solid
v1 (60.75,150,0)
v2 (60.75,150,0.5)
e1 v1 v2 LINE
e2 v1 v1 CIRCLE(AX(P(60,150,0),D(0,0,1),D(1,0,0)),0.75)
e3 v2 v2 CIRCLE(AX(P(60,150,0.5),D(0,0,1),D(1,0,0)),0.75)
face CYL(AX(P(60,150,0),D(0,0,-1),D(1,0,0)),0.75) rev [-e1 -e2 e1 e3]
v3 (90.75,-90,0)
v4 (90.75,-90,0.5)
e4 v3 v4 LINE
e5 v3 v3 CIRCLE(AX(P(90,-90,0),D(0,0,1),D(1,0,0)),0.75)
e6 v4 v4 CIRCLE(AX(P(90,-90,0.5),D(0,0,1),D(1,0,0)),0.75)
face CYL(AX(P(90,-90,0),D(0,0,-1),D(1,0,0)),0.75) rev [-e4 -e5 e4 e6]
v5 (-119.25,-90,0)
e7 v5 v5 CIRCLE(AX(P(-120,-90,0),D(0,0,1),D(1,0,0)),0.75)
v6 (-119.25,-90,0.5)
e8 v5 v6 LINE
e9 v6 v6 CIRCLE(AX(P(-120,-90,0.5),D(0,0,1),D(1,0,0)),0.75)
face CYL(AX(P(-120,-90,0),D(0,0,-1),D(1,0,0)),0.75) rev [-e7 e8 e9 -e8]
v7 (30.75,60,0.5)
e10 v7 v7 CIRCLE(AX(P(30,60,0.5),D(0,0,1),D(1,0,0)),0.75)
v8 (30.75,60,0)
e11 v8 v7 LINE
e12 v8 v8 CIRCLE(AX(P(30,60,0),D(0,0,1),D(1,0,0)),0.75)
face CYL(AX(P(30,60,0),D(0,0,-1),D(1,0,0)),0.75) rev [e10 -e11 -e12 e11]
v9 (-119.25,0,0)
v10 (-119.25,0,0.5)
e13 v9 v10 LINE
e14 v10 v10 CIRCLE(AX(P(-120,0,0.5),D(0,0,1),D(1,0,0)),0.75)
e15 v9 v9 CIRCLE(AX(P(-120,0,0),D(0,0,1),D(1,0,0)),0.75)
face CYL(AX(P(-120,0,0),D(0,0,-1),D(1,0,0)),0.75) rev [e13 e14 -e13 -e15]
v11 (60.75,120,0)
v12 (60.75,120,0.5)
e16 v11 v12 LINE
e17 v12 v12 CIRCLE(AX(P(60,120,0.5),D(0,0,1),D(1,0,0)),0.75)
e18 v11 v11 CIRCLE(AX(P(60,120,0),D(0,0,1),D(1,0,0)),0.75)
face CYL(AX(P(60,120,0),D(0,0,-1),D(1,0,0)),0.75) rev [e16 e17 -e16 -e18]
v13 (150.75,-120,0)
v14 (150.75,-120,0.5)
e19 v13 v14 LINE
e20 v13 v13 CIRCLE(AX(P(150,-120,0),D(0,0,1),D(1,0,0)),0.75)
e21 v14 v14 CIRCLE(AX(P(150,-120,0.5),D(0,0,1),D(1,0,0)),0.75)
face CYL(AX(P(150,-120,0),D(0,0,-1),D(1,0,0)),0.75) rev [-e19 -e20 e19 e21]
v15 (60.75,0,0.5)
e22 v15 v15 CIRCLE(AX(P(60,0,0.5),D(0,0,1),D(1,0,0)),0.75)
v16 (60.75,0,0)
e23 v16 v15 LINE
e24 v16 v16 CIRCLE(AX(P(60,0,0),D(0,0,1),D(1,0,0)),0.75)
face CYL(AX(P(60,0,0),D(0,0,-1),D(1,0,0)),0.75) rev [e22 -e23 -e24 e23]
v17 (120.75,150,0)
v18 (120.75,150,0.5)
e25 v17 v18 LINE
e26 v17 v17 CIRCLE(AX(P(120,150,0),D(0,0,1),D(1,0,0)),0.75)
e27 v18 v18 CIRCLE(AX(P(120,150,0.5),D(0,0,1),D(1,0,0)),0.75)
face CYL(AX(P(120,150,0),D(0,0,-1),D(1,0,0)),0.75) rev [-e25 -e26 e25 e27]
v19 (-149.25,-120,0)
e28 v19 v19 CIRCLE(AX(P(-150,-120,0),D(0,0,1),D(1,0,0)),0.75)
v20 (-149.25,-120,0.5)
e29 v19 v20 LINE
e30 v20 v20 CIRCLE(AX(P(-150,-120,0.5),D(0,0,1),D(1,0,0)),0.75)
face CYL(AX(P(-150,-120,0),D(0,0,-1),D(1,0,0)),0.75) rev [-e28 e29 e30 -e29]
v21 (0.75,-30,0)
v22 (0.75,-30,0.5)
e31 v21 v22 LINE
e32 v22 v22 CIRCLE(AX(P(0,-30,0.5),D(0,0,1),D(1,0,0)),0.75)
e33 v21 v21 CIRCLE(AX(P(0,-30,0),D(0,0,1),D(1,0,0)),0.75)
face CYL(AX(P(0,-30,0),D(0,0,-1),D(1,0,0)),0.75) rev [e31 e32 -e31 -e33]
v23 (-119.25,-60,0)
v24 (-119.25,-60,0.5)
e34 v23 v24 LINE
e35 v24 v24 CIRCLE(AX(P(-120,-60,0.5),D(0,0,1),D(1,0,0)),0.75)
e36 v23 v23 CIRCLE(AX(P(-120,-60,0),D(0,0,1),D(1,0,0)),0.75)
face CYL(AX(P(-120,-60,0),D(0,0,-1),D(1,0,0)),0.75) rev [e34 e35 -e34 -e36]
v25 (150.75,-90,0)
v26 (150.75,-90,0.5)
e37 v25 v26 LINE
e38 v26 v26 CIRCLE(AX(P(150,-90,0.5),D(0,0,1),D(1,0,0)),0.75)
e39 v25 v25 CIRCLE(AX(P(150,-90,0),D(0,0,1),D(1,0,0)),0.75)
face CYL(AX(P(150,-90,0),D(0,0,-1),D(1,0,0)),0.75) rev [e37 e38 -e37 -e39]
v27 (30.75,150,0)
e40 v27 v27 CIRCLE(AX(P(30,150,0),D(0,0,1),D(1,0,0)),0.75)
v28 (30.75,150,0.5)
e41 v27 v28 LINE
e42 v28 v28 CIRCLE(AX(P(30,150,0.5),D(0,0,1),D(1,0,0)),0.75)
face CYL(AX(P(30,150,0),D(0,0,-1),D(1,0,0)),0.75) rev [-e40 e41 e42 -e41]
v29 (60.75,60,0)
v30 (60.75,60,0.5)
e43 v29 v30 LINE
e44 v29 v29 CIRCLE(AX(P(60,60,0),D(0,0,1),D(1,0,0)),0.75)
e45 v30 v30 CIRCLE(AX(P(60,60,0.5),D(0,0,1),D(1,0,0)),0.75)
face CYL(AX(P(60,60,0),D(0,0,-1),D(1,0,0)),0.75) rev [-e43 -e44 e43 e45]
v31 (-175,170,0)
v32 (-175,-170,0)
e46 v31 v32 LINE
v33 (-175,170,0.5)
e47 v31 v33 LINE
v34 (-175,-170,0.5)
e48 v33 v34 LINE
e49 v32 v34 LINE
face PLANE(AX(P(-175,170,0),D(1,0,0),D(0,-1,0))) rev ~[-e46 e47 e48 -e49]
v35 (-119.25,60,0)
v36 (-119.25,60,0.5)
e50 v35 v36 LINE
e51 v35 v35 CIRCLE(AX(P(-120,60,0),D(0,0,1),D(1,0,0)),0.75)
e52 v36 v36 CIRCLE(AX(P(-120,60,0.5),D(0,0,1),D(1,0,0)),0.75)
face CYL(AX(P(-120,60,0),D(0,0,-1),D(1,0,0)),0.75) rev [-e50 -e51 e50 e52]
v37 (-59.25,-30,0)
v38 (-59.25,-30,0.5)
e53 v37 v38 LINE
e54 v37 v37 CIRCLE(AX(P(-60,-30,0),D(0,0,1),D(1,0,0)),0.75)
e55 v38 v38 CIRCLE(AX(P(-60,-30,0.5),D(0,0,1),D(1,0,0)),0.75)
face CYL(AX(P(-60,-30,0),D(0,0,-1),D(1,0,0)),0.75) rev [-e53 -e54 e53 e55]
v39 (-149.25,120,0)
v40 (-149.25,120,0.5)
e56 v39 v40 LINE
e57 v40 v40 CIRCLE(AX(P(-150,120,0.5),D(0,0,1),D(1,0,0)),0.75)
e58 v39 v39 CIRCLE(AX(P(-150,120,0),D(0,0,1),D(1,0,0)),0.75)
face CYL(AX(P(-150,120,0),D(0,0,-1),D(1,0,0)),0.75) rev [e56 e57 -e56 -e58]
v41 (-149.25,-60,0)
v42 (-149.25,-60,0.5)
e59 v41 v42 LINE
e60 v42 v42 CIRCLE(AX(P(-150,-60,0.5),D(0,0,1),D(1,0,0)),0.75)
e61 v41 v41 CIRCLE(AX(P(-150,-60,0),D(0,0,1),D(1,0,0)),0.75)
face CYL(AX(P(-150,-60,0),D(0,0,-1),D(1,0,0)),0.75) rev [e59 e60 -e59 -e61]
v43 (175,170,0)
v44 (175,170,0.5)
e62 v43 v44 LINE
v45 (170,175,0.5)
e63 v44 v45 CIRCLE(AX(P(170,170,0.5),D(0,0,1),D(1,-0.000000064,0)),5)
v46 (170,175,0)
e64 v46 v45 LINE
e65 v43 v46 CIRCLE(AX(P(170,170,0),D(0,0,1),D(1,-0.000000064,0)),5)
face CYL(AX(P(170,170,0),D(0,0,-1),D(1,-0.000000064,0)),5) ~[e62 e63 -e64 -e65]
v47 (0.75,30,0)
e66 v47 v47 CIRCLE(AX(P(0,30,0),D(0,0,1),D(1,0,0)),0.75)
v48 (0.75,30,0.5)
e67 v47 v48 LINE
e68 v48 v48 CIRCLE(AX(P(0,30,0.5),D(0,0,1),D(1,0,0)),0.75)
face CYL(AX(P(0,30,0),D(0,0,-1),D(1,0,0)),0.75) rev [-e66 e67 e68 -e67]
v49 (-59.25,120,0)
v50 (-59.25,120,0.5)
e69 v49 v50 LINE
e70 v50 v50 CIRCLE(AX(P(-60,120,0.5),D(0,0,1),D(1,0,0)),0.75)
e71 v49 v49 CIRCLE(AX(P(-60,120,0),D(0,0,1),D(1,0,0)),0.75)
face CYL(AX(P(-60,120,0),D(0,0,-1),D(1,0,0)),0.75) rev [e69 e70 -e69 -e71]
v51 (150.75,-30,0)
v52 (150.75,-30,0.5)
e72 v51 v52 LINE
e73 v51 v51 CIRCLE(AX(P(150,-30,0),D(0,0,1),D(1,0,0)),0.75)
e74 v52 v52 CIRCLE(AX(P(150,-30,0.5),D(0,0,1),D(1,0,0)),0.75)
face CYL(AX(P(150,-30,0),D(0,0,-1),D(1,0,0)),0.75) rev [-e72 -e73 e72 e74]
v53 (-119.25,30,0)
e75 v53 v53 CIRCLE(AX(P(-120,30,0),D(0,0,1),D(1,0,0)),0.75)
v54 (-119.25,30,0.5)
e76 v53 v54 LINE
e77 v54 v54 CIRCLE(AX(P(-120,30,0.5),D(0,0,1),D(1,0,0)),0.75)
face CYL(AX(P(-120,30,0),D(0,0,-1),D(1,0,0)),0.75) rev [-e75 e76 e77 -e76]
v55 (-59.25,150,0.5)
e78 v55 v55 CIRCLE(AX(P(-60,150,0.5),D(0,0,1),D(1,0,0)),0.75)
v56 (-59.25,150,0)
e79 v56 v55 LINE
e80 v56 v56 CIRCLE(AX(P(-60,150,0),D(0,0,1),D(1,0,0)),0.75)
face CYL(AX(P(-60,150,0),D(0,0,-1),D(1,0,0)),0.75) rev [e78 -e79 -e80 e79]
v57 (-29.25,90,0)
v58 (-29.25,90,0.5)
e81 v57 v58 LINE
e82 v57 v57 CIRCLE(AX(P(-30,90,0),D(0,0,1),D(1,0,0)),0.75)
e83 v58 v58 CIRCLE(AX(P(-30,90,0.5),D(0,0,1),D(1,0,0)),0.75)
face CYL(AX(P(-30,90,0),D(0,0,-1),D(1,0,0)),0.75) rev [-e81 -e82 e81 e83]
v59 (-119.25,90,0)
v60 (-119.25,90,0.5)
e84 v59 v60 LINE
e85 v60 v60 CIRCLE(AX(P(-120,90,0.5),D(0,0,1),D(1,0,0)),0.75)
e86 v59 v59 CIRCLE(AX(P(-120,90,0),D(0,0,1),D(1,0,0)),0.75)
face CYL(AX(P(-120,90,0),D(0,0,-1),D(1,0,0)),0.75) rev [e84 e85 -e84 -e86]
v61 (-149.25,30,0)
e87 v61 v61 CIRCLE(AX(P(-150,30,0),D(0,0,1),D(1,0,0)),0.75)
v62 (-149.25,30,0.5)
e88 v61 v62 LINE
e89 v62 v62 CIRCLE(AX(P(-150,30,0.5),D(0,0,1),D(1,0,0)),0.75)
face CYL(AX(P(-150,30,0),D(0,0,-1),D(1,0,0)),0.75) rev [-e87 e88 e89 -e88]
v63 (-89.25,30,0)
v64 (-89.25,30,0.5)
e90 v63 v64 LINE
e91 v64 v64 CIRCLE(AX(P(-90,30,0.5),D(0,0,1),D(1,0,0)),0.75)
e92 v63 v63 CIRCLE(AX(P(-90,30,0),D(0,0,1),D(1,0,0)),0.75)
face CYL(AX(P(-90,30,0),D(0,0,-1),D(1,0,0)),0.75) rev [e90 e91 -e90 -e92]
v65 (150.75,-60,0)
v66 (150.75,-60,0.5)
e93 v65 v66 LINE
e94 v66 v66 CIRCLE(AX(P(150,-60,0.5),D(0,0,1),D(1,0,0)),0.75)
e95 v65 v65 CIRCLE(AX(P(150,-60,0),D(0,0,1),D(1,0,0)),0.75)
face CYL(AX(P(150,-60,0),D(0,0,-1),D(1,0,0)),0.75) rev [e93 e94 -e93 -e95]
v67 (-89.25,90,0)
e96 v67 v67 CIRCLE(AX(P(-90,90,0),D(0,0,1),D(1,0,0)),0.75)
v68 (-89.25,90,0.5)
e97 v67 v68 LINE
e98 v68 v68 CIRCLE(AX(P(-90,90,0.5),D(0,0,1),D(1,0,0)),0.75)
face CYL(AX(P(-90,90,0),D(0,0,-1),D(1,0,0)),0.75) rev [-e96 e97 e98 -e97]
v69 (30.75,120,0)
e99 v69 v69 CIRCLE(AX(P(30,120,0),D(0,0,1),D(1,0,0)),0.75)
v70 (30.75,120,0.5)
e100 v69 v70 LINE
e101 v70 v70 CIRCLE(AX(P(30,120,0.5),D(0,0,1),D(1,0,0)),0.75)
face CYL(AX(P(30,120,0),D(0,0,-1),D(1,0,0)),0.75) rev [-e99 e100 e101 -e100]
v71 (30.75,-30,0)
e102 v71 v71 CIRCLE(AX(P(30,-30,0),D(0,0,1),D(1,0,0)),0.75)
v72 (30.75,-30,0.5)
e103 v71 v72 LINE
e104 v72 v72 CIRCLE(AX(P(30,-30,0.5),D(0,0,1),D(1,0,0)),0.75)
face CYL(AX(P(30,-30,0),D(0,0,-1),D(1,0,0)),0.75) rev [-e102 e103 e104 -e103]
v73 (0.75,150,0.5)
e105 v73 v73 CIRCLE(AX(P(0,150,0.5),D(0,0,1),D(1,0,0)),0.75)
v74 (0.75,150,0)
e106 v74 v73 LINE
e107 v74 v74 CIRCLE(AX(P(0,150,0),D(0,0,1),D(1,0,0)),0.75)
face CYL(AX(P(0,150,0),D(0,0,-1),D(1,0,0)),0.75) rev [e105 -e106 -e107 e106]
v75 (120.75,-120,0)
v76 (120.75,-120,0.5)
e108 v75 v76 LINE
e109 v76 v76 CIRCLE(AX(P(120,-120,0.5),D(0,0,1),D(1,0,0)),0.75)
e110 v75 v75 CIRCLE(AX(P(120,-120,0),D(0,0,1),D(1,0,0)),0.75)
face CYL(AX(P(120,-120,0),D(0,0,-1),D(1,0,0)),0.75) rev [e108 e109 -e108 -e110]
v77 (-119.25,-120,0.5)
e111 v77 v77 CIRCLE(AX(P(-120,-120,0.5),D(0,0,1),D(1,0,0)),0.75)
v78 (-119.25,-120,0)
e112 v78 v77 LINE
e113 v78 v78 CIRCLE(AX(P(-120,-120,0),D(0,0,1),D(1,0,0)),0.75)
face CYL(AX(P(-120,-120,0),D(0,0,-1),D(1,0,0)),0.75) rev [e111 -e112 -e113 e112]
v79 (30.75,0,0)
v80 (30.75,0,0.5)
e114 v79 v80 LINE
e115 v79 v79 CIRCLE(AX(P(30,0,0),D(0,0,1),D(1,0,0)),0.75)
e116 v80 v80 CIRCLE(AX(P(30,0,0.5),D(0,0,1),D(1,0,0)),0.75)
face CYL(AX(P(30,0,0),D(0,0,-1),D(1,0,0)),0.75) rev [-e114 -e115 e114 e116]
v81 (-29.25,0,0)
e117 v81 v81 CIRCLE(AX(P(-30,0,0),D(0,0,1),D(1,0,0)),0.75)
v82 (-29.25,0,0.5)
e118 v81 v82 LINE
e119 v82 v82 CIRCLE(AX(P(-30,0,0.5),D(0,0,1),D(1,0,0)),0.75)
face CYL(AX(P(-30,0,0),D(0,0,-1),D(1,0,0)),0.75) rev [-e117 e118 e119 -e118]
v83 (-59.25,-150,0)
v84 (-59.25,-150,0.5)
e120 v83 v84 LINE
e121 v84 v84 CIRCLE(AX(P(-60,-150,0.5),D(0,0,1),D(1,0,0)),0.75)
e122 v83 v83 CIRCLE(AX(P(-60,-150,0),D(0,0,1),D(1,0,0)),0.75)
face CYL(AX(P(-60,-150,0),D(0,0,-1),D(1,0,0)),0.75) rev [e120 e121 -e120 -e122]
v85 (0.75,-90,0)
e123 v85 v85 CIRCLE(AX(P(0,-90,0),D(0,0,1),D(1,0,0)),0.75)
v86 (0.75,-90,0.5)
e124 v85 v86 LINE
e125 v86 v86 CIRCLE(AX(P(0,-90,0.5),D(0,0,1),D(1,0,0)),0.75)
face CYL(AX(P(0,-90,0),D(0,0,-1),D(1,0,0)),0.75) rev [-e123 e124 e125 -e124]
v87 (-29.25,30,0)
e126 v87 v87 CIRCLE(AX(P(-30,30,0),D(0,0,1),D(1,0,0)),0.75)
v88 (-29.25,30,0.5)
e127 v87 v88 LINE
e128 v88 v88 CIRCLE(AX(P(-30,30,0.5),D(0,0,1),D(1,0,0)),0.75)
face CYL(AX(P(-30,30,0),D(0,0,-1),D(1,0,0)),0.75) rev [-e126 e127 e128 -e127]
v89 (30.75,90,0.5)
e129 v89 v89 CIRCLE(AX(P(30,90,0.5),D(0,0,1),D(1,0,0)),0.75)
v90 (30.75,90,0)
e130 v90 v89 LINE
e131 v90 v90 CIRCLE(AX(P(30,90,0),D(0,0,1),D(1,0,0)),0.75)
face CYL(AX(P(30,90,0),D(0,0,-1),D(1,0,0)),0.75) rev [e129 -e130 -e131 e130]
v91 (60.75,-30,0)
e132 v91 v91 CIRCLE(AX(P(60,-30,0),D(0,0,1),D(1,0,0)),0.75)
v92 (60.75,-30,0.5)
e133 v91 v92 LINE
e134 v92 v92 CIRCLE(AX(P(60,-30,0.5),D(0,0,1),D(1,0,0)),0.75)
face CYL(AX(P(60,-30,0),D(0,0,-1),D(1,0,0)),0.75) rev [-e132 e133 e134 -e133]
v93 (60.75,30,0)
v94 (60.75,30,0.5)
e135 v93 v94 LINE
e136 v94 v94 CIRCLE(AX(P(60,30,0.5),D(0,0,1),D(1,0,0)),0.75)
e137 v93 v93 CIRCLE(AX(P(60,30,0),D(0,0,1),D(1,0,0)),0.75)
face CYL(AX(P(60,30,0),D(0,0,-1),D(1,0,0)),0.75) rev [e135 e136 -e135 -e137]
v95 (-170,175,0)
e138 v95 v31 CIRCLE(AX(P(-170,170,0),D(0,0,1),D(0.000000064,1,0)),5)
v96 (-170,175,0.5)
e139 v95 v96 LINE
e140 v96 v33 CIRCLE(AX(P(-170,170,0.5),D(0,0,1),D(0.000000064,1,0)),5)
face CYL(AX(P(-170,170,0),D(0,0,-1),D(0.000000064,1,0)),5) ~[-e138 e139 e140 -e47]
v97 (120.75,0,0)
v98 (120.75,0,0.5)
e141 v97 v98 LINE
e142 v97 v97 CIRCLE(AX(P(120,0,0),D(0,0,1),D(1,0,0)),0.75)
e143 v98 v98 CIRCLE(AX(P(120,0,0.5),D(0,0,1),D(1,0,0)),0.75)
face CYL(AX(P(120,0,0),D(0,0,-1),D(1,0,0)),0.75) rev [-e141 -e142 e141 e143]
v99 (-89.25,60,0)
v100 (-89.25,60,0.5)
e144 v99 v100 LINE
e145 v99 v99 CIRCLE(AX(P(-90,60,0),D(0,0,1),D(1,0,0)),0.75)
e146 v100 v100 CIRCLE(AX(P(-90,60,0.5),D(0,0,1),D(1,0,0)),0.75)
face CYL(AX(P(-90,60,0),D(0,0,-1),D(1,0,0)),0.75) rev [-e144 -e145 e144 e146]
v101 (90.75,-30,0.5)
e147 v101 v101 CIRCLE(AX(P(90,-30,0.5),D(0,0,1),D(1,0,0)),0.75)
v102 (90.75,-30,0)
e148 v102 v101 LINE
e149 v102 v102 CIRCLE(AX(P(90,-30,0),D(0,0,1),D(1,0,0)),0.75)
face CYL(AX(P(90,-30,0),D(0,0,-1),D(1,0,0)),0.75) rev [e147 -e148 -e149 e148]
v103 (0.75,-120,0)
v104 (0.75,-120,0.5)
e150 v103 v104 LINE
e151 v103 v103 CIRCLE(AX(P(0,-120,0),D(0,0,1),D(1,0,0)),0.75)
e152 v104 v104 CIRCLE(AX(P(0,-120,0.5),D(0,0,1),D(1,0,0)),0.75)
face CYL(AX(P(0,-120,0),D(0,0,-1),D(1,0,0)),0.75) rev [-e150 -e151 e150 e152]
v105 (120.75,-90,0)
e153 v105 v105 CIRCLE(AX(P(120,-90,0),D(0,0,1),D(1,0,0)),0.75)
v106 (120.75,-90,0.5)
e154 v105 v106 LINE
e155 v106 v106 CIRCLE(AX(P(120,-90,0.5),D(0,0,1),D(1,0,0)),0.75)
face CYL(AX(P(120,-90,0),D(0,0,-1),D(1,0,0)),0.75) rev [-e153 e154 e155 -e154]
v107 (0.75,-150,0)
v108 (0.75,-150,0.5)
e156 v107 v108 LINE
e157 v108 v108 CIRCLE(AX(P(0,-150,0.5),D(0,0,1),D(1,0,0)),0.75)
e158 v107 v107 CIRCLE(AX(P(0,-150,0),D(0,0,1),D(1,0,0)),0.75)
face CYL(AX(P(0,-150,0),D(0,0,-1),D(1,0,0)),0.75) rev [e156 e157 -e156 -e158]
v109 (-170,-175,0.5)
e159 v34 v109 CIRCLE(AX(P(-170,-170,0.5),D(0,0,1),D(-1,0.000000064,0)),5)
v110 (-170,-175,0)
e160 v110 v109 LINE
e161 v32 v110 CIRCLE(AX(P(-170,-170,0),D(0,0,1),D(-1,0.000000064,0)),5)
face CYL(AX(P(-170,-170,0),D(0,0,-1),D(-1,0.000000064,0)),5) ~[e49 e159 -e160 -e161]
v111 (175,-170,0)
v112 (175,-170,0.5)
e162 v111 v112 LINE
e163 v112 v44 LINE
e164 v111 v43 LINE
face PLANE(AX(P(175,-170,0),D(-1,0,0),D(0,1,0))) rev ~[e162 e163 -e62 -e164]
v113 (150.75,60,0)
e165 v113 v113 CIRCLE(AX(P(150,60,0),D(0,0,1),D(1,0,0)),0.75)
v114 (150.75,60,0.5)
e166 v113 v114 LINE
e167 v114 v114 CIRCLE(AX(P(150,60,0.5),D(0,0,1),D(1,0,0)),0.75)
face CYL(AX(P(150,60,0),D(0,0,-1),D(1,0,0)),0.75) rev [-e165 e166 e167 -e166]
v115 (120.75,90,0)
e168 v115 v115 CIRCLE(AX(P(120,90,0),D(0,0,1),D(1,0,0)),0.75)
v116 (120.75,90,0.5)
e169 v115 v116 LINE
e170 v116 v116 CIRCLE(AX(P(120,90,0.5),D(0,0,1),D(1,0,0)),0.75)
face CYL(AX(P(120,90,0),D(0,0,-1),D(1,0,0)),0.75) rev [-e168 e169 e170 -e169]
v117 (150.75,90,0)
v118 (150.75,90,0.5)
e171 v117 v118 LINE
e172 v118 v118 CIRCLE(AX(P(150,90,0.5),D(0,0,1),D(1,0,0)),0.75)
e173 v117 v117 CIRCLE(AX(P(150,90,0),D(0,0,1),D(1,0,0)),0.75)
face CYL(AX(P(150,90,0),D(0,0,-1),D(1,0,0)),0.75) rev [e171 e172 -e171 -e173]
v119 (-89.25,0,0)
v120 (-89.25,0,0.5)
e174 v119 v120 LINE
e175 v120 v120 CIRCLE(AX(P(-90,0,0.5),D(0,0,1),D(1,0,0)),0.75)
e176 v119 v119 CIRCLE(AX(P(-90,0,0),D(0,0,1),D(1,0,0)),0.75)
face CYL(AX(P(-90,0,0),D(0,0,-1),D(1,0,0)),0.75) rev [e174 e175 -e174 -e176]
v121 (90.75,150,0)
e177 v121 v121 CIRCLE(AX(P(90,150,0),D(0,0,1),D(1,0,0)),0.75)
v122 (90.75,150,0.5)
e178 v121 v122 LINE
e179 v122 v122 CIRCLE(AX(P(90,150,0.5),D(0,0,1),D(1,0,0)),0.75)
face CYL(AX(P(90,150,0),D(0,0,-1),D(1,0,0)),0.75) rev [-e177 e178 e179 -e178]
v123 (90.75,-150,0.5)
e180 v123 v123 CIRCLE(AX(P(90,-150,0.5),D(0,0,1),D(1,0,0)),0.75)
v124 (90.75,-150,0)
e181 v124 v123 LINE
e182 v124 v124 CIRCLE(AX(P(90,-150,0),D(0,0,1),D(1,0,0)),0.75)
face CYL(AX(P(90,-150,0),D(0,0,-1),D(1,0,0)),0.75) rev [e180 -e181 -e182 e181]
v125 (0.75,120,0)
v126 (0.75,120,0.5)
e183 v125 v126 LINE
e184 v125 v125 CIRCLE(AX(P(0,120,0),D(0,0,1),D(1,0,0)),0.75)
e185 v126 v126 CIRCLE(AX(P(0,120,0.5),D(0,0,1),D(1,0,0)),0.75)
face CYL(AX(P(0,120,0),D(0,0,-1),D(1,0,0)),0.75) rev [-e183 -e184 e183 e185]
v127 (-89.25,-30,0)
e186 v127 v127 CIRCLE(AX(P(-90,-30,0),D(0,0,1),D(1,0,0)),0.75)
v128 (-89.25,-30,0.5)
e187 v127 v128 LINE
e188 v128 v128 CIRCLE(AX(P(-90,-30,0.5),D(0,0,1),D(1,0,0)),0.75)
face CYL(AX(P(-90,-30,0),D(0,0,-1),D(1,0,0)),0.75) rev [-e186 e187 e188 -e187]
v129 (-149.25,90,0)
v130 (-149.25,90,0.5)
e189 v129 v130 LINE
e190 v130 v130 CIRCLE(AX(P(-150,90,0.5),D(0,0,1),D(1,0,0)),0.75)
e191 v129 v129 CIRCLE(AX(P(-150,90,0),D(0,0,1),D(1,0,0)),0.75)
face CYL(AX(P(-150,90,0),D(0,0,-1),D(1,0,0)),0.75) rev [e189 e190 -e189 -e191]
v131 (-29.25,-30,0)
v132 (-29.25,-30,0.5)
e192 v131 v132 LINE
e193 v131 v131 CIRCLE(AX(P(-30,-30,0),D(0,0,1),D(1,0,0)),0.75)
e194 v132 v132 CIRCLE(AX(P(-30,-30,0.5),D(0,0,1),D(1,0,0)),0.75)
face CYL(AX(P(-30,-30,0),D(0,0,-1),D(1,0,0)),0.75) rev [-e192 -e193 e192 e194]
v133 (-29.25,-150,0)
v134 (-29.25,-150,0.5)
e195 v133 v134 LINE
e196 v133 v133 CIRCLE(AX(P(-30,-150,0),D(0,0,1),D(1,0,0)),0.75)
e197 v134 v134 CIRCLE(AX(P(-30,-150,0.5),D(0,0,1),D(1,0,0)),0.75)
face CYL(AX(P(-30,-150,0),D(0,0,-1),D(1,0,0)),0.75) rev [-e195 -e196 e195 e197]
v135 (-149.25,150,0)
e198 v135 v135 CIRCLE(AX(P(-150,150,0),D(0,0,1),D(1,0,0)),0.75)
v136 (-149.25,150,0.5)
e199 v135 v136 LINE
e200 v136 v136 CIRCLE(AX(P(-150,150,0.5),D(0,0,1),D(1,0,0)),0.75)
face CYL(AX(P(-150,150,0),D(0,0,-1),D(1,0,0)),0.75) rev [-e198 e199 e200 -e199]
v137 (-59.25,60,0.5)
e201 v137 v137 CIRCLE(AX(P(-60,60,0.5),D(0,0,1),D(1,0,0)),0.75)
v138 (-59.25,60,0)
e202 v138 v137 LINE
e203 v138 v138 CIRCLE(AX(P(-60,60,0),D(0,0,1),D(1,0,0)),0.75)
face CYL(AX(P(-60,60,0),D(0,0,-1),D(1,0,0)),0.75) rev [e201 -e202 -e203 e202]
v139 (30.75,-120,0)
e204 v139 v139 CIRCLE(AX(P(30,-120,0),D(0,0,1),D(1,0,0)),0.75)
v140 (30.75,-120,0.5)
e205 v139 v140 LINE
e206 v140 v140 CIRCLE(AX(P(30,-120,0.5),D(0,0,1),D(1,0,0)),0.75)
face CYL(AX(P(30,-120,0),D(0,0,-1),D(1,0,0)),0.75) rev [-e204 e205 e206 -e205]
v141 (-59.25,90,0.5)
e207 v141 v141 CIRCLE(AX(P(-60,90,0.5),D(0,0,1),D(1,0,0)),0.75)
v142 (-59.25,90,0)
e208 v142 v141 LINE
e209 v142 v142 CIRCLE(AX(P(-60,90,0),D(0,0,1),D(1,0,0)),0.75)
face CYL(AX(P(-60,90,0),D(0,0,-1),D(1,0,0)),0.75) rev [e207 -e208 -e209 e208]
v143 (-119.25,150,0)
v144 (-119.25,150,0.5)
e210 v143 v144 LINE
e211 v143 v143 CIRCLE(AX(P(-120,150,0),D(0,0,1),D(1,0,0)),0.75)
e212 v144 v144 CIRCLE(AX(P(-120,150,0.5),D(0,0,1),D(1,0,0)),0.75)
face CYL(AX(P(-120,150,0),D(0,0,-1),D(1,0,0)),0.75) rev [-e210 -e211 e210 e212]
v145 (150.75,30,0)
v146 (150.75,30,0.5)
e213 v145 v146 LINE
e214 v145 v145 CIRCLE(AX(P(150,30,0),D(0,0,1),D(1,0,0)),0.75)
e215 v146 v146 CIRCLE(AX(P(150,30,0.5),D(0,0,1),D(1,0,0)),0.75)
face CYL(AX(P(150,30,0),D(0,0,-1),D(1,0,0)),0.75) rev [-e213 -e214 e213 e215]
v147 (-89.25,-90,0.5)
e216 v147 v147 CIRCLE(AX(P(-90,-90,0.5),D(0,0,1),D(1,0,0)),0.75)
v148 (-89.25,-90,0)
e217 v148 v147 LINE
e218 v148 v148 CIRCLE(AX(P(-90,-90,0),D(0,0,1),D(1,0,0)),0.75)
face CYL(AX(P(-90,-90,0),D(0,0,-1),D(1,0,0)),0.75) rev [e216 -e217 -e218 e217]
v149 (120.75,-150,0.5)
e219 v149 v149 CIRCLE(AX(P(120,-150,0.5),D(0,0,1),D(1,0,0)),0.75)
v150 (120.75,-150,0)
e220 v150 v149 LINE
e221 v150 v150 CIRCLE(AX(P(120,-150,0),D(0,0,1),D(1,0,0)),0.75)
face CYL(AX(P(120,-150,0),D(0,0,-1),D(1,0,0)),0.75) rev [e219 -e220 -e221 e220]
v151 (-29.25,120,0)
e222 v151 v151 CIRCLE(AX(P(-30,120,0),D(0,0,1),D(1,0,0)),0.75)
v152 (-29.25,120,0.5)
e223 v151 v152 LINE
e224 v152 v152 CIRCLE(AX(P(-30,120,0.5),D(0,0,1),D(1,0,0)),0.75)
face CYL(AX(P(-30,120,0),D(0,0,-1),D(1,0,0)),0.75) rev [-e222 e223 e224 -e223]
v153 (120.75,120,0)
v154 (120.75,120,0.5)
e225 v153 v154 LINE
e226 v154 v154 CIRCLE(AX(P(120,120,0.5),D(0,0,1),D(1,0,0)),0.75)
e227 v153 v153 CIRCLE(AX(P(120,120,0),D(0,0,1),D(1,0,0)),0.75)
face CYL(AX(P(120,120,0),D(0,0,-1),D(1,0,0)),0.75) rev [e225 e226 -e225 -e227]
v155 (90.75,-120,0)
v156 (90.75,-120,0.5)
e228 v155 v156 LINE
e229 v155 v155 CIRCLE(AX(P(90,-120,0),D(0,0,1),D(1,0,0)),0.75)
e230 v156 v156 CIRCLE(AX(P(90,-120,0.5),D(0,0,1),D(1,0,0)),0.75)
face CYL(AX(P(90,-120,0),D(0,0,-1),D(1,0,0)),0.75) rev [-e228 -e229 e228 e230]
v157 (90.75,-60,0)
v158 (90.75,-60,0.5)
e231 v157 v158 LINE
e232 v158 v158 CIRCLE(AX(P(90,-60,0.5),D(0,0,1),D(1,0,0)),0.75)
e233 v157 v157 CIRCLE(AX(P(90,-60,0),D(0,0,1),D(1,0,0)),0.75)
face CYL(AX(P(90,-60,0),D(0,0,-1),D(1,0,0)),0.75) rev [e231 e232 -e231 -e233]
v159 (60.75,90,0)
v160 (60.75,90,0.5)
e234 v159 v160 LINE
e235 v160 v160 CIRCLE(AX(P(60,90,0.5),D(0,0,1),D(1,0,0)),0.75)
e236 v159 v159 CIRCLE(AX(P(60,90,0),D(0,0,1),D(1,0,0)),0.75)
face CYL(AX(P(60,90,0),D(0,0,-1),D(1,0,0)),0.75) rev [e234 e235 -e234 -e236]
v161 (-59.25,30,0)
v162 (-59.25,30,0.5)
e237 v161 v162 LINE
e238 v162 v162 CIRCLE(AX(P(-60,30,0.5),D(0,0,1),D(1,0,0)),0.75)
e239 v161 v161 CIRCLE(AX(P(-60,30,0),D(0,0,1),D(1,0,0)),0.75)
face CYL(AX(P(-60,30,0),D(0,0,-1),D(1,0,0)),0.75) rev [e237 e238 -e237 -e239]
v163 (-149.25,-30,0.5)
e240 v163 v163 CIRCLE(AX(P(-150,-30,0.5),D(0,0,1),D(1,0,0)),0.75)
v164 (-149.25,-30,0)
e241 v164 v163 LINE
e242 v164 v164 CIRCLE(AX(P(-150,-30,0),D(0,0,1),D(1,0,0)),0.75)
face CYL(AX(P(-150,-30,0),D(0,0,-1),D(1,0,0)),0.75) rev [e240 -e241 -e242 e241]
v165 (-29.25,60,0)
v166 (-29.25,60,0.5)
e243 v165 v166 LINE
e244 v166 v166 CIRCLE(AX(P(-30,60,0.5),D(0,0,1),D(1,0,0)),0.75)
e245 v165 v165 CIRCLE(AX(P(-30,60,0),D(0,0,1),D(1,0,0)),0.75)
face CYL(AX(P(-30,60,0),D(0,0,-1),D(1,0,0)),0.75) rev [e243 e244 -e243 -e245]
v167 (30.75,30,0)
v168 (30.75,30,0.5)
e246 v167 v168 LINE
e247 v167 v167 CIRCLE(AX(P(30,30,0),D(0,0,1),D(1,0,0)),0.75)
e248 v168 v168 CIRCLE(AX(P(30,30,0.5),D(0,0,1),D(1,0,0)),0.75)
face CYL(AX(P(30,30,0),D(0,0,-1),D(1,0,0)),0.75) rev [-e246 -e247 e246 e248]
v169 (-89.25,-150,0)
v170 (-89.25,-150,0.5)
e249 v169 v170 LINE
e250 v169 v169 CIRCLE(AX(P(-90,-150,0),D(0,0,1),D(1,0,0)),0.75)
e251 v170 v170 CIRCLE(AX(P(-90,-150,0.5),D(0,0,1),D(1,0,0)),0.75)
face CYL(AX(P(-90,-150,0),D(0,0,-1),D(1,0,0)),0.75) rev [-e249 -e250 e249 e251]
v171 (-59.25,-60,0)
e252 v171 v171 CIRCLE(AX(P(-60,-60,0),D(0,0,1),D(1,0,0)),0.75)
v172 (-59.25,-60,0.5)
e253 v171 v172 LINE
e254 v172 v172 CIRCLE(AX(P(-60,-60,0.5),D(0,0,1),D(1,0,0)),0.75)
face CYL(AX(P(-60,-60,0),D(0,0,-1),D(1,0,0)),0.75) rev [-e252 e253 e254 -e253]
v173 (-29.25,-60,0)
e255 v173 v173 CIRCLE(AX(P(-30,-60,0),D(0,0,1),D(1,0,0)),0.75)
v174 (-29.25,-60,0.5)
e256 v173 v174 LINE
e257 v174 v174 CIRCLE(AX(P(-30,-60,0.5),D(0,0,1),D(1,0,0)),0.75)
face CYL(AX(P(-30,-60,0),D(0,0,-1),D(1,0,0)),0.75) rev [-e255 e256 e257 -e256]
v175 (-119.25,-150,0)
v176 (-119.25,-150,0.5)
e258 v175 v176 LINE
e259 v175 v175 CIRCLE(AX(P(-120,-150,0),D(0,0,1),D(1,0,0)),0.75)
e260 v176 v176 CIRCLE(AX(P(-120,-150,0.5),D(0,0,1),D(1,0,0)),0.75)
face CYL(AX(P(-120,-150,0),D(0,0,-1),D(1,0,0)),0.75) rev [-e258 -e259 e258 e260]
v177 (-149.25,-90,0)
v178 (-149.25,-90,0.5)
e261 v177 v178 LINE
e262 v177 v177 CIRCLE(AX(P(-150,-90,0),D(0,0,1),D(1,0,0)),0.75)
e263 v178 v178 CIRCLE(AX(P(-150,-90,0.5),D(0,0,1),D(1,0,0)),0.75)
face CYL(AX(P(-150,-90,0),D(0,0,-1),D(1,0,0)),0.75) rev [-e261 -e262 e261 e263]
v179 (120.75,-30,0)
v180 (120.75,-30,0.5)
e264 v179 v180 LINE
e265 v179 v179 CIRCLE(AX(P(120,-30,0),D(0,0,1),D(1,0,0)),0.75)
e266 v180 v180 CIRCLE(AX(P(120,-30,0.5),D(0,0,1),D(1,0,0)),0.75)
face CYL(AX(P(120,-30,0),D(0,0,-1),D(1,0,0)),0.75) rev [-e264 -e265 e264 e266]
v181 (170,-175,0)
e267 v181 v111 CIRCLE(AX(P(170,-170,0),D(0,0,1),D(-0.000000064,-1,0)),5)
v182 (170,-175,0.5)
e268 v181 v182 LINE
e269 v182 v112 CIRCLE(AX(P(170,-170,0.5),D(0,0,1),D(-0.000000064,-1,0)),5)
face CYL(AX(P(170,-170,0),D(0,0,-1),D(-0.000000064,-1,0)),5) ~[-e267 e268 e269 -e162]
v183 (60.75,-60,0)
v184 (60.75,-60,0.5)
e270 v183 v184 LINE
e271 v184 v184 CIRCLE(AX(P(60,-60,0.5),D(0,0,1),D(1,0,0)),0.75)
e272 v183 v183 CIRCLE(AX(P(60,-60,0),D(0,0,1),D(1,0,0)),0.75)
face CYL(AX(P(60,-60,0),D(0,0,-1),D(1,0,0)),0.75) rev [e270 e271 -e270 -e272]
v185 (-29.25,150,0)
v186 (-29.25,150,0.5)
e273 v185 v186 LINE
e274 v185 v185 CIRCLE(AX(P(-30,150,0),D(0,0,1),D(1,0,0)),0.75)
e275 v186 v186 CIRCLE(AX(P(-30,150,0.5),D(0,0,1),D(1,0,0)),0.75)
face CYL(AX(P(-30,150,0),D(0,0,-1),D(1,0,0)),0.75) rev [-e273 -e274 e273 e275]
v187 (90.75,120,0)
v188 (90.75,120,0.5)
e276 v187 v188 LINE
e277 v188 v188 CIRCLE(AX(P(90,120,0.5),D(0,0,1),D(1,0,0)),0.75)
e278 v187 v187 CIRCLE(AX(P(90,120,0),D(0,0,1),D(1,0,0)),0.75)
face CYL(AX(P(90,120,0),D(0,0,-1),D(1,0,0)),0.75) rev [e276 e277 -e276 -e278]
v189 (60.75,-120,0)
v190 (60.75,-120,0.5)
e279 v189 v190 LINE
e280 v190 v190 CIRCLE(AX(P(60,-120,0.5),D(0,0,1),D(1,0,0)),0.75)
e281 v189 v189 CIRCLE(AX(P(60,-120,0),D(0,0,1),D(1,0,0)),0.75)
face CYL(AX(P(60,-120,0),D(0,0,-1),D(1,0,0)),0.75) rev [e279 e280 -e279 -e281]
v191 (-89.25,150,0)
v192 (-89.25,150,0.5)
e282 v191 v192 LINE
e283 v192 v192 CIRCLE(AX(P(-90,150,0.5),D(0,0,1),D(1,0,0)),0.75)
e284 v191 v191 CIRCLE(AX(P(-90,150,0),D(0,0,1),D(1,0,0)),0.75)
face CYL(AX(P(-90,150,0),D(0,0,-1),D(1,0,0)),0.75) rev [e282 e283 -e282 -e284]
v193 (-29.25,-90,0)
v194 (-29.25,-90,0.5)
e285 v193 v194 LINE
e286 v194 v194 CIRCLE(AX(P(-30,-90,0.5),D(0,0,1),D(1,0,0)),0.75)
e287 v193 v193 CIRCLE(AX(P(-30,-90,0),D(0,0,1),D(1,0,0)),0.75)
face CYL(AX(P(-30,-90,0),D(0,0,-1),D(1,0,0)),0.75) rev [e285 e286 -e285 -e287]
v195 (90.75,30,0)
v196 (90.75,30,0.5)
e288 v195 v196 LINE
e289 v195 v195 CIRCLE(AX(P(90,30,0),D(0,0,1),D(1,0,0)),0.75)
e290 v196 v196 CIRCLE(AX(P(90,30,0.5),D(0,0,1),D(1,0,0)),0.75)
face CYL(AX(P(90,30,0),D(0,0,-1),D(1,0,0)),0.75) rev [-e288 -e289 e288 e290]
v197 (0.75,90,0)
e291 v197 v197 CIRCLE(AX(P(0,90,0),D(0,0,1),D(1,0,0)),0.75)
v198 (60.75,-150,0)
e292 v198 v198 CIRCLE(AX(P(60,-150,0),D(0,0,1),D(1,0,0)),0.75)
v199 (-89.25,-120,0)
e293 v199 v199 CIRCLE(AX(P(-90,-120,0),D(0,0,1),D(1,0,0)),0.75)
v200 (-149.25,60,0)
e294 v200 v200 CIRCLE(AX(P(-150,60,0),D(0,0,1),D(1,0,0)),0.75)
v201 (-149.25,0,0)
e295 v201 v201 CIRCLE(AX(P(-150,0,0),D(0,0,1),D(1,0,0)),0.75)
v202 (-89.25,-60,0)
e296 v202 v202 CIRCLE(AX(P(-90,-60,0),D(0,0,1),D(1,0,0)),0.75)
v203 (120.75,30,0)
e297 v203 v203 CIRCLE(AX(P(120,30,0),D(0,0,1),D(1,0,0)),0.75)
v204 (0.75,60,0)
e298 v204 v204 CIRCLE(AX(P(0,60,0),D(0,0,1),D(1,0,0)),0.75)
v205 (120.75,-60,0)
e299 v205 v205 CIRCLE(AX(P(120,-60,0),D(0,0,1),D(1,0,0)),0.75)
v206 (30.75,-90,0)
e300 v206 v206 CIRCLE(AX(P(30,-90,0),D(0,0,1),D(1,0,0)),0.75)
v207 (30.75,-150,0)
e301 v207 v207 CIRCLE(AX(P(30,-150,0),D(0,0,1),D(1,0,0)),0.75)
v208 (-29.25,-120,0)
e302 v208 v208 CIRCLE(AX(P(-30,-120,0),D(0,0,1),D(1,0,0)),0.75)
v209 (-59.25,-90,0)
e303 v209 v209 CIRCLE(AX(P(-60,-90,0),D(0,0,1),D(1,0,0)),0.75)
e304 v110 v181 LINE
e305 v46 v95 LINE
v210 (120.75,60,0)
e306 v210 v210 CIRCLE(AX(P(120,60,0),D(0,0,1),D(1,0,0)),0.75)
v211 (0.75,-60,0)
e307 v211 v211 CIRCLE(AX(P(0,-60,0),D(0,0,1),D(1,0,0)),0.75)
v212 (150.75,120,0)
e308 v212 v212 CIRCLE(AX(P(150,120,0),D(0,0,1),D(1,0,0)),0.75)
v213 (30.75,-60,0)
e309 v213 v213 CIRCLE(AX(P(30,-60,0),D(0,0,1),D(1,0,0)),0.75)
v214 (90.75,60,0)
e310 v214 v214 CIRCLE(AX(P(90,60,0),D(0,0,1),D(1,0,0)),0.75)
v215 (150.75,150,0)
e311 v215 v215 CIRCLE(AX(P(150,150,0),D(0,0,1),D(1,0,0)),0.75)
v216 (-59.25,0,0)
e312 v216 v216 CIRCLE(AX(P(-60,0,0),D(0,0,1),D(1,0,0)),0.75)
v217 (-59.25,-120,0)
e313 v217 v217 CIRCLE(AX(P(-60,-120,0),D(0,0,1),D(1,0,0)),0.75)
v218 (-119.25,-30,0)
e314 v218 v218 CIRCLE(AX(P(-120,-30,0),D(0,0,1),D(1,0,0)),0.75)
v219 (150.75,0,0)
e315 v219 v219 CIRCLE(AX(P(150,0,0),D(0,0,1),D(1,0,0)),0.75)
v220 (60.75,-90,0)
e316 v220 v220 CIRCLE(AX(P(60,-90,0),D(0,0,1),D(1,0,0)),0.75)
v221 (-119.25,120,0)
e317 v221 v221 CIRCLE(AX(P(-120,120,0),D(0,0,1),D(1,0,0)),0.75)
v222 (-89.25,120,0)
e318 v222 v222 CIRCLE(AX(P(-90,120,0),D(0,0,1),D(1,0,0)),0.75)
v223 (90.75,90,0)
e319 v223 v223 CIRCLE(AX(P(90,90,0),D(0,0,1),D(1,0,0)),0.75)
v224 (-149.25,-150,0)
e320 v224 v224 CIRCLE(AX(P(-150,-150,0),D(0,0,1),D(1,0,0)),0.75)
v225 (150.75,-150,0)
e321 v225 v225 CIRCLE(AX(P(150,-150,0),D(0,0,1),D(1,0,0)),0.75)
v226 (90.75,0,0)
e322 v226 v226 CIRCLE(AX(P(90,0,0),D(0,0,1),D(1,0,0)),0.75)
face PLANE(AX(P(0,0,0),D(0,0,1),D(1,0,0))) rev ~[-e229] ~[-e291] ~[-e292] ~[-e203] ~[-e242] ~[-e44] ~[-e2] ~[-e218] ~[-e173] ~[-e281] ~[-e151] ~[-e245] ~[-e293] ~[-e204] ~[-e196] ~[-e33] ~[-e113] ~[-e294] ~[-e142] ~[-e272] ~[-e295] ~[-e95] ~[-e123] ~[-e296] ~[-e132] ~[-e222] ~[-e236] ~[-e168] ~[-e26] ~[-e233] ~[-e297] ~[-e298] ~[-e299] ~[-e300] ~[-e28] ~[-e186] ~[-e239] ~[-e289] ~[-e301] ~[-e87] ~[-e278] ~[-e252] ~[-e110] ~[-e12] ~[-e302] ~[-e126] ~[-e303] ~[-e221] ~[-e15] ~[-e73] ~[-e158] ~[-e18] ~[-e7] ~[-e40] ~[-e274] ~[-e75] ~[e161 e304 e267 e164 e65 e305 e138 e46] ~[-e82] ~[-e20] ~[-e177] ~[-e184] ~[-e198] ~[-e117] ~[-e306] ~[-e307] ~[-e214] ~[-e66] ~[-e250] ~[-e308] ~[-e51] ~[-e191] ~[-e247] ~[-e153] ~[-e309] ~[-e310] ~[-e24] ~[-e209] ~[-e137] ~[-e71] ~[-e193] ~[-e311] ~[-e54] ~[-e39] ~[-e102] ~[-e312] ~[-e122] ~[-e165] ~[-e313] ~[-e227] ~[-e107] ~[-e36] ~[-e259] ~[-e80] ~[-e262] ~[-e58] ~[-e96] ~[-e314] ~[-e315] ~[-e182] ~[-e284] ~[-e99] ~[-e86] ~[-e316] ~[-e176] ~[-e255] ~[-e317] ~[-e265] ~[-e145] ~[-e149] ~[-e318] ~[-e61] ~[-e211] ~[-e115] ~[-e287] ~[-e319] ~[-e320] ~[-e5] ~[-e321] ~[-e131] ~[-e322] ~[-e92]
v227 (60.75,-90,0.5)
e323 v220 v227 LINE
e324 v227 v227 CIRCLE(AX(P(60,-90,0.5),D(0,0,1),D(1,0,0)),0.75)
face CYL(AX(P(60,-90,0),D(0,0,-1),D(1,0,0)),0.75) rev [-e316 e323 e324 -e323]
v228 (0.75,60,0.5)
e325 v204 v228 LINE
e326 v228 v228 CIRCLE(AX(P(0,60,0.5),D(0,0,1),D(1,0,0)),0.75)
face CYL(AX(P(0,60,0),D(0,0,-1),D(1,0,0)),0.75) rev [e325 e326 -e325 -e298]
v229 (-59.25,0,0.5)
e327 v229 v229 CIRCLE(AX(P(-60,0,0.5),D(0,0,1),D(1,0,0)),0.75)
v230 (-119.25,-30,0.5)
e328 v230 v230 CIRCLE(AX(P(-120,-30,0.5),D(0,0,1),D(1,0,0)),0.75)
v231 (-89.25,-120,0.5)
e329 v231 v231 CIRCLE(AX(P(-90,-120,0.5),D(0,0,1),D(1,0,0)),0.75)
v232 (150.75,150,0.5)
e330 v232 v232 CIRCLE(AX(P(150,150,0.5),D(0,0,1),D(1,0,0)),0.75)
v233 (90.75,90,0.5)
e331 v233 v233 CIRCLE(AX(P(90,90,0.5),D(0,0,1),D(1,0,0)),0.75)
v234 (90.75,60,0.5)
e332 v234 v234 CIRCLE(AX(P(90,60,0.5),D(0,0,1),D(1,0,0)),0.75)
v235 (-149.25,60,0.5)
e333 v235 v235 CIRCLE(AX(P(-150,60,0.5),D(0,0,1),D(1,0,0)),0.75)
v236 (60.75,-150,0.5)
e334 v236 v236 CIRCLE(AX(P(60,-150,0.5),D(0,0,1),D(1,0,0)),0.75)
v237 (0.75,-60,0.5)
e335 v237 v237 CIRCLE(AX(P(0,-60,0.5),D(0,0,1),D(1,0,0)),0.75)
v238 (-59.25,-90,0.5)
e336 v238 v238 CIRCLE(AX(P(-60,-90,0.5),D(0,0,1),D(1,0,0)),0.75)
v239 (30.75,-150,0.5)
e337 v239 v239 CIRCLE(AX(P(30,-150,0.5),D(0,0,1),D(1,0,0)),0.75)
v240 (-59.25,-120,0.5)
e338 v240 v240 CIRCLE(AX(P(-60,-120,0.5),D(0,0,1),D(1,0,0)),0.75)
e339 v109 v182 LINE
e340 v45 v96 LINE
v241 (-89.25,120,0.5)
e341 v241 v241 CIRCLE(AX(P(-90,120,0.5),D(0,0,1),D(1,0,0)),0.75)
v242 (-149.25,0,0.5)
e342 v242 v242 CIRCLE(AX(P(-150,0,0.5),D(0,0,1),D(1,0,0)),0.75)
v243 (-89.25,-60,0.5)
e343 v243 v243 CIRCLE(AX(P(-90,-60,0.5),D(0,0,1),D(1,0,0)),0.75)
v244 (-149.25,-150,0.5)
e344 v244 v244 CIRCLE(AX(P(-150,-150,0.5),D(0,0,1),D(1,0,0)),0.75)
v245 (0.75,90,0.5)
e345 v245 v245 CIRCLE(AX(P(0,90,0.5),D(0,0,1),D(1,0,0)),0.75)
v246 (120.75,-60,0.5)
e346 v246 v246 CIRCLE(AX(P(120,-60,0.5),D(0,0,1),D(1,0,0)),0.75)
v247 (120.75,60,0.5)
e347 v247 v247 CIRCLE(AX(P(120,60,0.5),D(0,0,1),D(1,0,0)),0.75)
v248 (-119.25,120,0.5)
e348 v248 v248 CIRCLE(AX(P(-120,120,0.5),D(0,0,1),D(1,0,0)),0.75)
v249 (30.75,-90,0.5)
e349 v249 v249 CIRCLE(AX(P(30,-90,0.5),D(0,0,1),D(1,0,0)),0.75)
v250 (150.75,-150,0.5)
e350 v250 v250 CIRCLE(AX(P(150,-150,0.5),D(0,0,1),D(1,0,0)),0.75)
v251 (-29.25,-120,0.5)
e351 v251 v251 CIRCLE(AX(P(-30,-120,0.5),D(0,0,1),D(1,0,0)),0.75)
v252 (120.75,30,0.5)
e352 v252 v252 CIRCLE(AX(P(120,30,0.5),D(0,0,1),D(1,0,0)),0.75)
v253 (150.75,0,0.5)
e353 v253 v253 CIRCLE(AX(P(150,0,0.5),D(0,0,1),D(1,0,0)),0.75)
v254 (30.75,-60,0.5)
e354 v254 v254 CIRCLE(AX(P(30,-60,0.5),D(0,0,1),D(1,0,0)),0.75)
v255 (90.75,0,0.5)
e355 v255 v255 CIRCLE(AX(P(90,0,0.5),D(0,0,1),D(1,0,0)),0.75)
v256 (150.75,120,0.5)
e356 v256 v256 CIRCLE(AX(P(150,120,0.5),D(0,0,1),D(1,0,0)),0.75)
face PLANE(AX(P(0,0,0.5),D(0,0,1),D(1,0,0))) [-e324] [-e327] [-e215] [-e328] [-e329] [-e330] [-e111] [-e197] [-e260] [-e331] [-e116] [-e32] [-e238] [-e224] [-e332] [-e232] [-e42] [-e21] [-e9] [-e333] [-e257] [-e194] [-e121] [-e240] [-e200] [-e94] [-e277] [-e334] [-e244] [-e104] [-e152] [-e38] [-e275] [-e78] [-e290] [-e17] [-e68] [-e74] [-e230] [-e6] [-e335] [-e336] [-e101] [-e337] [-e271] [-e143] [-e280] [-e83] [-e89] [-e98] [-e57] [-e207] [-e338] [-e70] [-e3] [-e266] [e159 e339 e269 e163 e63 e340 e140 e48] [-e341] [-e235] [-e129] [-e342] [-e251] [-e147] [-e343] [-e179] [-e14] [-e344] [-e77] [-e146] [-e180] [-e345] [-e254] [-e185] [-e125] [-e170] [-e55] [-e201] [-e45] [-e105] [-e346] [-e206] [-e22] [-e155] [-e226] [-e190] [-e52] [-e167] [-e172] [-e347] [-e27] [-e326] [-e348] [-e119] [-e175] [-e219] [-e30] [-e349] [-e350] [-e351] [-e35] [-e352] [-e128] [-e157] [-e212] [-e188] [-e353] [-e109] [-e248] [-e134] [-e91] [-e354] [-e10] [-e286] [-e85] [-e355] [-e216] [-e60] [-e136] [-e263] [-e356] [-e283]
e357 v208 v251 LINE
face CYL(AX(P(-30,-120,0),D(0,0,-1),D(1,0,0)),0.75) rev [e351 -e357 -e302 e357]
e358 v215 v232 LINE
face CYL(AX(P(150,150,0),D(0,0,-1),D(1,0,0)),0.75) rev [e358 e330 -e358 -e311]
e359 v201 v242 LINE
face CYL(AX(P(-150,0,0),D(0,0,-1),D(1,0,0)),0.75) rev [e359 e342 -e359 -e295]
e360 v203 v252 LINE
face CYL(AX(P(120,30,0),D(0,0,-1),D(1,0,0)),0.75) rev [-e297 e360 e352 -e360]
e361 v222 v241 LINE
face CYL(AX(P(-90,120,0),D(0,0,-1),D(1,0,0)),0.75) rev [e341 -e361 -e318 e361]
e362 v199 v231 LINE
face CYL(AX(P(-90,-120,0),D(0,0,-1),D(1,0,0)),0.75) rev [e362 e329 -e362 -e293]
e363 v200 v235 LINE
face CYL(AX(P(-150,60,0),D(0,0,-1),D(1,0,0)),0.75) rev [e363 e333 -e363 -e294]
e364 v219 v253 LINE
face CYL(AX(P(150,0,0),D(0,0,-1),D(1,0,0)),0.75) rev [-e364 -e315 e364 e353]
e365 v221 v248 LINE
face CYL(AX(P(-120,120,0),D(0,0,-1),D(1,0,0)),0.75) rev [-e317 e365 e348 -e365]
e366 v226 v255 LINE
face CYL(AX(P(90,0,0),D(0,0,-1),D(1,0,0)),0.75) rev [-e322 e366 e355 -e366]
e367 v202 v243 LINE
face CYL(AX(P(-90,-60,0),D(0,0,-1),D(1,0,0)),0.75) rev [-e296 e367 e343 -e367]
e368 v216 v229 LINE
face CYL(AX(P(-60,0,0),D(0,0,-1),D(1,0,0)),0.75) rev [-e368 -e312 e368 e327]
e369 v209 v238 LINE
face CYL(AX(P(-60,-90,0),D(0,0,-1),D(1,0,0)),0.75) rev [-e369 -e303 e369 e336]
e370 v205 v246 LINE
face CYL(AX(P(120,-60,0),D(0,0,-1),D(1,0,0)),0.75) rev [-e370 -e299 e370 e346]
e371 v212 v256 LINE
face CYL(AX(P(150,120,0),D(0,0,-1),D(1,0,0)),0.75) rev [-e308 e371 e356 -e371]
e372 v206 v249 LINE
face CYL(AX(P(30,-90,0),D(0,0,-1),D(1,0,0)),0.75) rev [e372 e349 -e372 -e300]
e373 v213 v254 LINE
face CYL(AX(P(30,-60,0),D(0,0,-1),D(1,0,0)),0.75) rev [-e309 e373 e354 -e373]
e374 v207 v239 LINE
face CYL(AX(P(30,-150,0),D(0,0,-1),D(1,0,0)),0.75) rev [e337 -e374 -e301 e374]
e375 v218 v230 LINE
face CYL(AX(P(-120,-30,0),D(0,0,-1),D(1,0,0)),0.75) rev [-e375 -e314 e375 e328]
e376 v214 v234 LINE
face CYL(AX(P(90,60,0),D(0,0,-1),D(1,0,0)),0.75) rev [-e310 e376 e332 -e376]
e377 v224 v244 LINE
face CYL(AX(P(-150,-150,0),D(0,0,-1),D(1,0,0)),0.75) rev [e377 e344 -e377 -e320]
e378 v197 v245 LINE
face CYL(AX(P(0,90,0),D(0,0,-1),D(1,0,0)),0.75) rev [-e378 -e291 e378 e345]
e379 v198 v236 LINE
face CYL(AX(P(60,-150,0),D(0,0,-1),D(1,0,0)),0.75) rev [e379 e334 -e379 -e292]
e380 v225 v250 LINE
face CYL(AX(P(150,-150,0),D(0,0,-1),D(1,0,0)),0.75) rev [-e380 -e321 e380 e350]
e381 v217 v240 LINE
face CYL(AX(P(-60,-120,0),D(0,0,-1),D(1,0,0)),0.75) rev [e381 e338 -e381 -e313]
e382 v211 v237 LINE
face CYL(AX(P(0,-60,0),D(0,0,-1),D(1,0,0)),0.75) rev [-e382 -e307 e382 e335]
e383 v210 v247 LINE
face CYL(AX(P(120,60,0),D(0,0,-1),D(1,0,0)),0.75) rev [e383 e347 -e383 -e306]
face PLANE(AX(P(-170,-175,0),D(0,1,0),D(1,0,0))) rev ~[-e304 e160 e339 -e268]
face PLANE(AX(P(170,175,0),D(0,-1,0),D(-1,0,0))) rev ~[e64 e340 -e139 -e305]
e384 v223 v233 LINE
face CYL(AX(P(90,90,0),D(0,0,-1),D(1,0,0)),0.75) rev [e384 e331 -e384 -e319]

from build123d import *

# Parameters (mm, degrees)
F0_R     = 0.75
F1_DEPTH = 0.5
F2_W     = 7.084715
F2_H     = 7.033198
F3_DEPTH = 0.5


with BuildPart() as f1:
    # F0 (on Top) → F1 (new body)
    with BuildSketch(Plane.XY):
        with BuildLine():
            ThreePointArc((-175, -170), (-173.535534, -173.535534), (-170, -175))
            Line((-170, -175), (170, -175))
            ThreePointArc((170, -175), (173.535534, -173.535534), (175, -170))
            Line((175, -170), (175, 170))
            ThreePointArc((175, 170), (173.535534, 173.535534), (170, 175))
            Line((170, 175), (-170, 175))
            ThreePointArc((-170, 175), (-173.535534, 173.535534), (-175, 170))
            Line((-175, 170), (-175, -170))
        make_face()
        with Locations((-150, -150)):
            Circle(F0_R, mode=Mode.SUBTRACT)
        with Locations((-120, -150)):
            Circle(F0_R, mode=Mode.SUBTRACT)
        with Locations((-90, -150)):
            Circle(F0_R, mode=Mode.SUBTRACT)
        with Locations((-150, -120)):
            Circle(F0_R, mode=Mode.SUBTRACT)
        with Locations((-150, -90)):
            Circle(F0_R, mode=Mode.SUBTRACT)
        with Locations((-120, -120)):
            Circle(F0_R, mode=Mode.SUBTRACT)
        with Locations((-90, -120)):
            Circle(F0_R, mode=Mode.SUBTRACT)
        with Locations((-120, -90)):
            Circle(F0_R, mode=Mode.SUBTRACT)
        with Locations((-90, -90)):
            Circle(F0_R, mode=Mode.SUBTRACT)
        with Locations((-60, -150)):
            Circle(F0_R, mode=Mode.SUBTRACT)
        with Locations((-30, -150)):
            Circle(F0_R, mode=Mode.SUBTRACT)
        with Locations((-60, -120)):
            Circle(F0_R, mode=Mode.SUBTRACT)
        with Locations((-60, -90)):
            Circle(F0_R, mode=Mode.SUBTRACT)
        with Locations((-30, -120)):
            Circle(F0_R, mode=Mode.SUBTRACT)
        with Locations((-30, -90)):
            Circle(F0_R, mode=Mode.SUBTRACT)
        with Locations((-150, -60)):
            Circle(F0_R, mode=Mode.SUBTRACT)
        with Locations((-120, -60)):
            Circle(F0_R, mode=Mode.SUBTRACT)
        with Locations((-90, -60)):
            Circle(F0_R, mode=Mode.SUBTRACT)
        with Locations((-150, -30)):
            Circle(F0_R, mode=Mode.SUBTRACT)
        with Locations((-120, -30)):
            Circle(F0_R, mode=Mode.SUBTRACT)
        with Locations((-90, -30)):
            Circle(F0_R, mode=Mode.SUBTRACT)
        with Locations((-60, -60)):
            Circle(F0_R, mode=Mode.SUBTRACT)
        with Locations((-30, -60)):
            Circle(F0_R, mode=Mode.SUBTRACT)
        with Locations((-60, -30)):
            Circle(F0_R, mode=Mode.SUBTRACT)
        with Locations((-30, -30)):
            Circle(F0_R, mode=Mode.SUBTRACT)
        with Locations((0, -150)):
            Circle(F0_R, mode=Mode.SUBTRACT)
        with Locations((30, -150)):
            Circle(F0_R, mode=Mode.SUBTRACT)
        with Locations((60, -150)):
            Circle(F0_R, mode=Mode.SUBTRACT)
        with Locations((0, -120)):
            Circle(F0_R, mode=Mode.SUBTRACT)
        with Locations((30, -120)):
            Circle(F0_R, mode=Mode.SUBTRACT)
        with Locations((0, -90)):
            Circle(F0_R, mode=Mode.SUBTRACT)
        with Locations((30, -90)):
            Circle(F0_R, mode=Mode.SUBTRACT)
        with Locations((60, -120)):
            Circle(F0_R, mode=Mode.SUBTRACT)
        with Locations((60, -90)):
            Circle(F0_R, mode=Mode.SUBTRACT)
        with Locations((90, -150)):
            Circle(F0_R, mode=Mode.SUBTRACT)
        with Locations((120, -150)):
            Circle(F0_R, mode=Mode.SUBTRACT)
        with Locations((150, -150)):
            Circle(F0_R, mode=Mode.SUBTRACT)
        with Locations((90, -120)):
            Circle(F0_R, mode=Mode.SUBTRACT)
        with Locations((120, -120)):
            Circle(F0_R, mode=Mode.SUBTRACT)
        with Locations((90, -90)):
            Circle(F0_R, mode=Mode.SUBTRACT)
        with Locations((120, -90)):
            Circle(F0_R, mode=Mode.SUBTRACT)
        with Locations((150, -120)):
            Circle(F0_R, mode=Mode.SUBTRACT)
        with Locations((150, -90)):
            Circle(F0_R, mode=Mode.SUBTRACT)
        with Locations((0, -60)):
            Circle(F0_R, mode=Mode.SUBTRACT)
        with Locations((30, -60)):
            Circle(F0_R, mode=Mode.SUBTRACT)
        with Locations((60, -60)):
            Circle(F0_R, mode=Mode.SUBTRACT)
        with Locations((0, -30)):
            Circle(F0_R, mode=Mode.SUBTRACT)
        with Locations((30, -30)):
            Circle(F0_R, mode=Mode.SUBTRACT)
        with Locations((60, -30)):
            Circle(F0_R, mode=Mode.SUBTRACT)
        with Locations((90, -60)):
            Circle(F0_R, mode=Mode.SUBTRACT)
        with Locations((120, -60)):
            Circle(F0_R, mode=Mode.SUBTRACT)
        with Locations((150, -60)):
            Circle(F0_R, mode=Mode.SUBTRACT)
        with Locations((90, -30)):
            Circle(F0_R, mode=Mode.SUBTRACT)
        with Locations((120, -30)):
            Circle(F0_R, mode=Mode.SUBTRACT)
        with Locations((150, -30)):
            Circle(F0_R, mode=Mode.SUBTRACT)
        with Locations((-150, 0)):
            Circle(F0_R, mode=Mode.SUBTRACT)
        with Locations((-150, 30)):
            Circle(F0_R, mode=Mode.SUBTRACT)
        with Locations((-120, 0)):
            Circle(F0_R, mode=Mode.SUBTRACT)
        with Locations((-90, 0)):
            Circle(F0_R, mode=Mode.SUBTRACT)
        with Locations((-120, 30)):
            Circle(F0_R, mode=Mode.SUBTRACT)
        with Locations((-90, 30)):
            Circle(F0_R, mode=Mode.SUBTRACT)
        with Locations((-150, 60)):
            Circle(F0_R, mode=Mode.SUBTRACT)
        with Locations((-120, 60)):
            Circle(F0_R, mode=Mode.SUBTRACT)
        with Locations((-90, 60)):
            Circle(F0_R, mode=Mode.SUBTRACT)
        with Locations((-60, 0)):
            Circle(F0_R, mode=Mode.SUBTRACT)
        with Locations((-60, 30)):
            Circle(F0_R, mode=Mode.SUBTRACT)
        with Locations((-30, 0)):
            Circle(F0_R, mode=Mode.SUBTRACT)
        with Locations((-30, 30)):
            Circle(F0_R, mode=Mode.SUBTRACT)
        with Locations((-60, 60)):
            Circle(F0_R, mode=Mode.SUBTRACT)
        with Locations((-30, 60)):
            Circle(F0_R, mode=Mode.SUBTRACT)
        with Locations((-150, 90)):
            Circle(F0_R, mode=Mode.SUBTRACT)
        with Locations((-150, 120)):
            Circle(F0_R, mode=Mode.SUBTRACT)
        with Locations((-120, 90)):
            Circle(F0_R, mode=Mode.SUBTRACT)
        with Locations((-90, 90)):
            Circle(F0_R, mode=Mode.SUBTRACT)
        with Locations((-120, 120)):
            Circle(F0_R, mode=Mode.SUBTRACT)
        with Locations((-90, 120)):
            Circle(F0_R, mode=Mode.SUBTRACT)
        with Locations((-150, 150)):
            Circle(F0_R, mode=Mode.SUBTRACT)
        with Locations((-120, 150)):
            Circle(F0_R, mode=Mode.SUBTRACT)
        with Locations((-90, 150)):
            Circle(F0_R, mode=Mode.SUBTRACT)
        with Locations((-60, 90)):
            Circle(F0_R, mode=Mode.SUBTRACT)
        with Locations((-60, 120)):
            Circle(F0_R, mode=Mode.SUBTRACT)
        with Locations((-30, 90)):
            Circle(F0_R, mode=Mode.SUBTRACT)
        with Locations((-30, 120)):
            Circle(F0_R, mode=Mode.SUBTRACT)
        with Locations((-60, 150)):
            Circle(F0_R, mode=Mode.SUBTRACT)
        with Locations((-30, 150)):
            Circle(F0_R, mode=Mode.SUBTRACT)
        Circle(F0_R, mode=Mode.SUBTRACT)
        with Locations((30, 0)):
            Circle(F0_R, mode=Mode.SUBTRACT)
        with Locations((0, 30)):
            Circle(F0_R, mode=Mode.SUBTRACT)
        with Locations((30, 30)):
            Circle(F0_R, mode=Mode.SUBTRACT)
        with Locations((60, 0)):
            Circle(F0_R, mode=Mode.SUBTRACT)
        with Locations((60, 30)):
            Circle(F0_R, mode=Mode.SUBTRACT)
        with Locations((0, 60)):
            Circle(F0_R, mode=Mode.SUBTRACT)
        with Locations((30, 60)):
            Circle(F0_R, mode=Mode.SUBTRACT)
        with Locations((60, 60)):
            Circle(F0_R, mode=Mode.SUBTRACT)
        with Locations((90, 0)):
            Circle(F0_R, mode=Mode.SUBTRACT)
        with Locations((120, 0)):
            Circle(F0_R, mode=Mode.SUBTRACT)
        with Locations((90, 30)):
            Circle(F0_R, mode=Mode.SUBTRACT)
        with Locations((120, 30)):
            Circle(F0_R, mode=Mode.SUBTRACT)
        with Locations((150, 0)):
            Circle(F0_R, mode=Mode.SUBTRACT)
        with Locations((150, 30)):
            Circle(F0_R, mode=Mode.SUBTRACT)
        with Locations((90, 60)):
            Circle(F0_R, mode=Mode.SUBTRACT)
        with Locations((120, 60)):
            Circle(F0_R, mode=Mode.SUBTRACT)
        with Locations((150, 60)):
            Circle(F0_R, mode=Mode.SUBTRACT)
        with Locations((0, 90)):
            Circle(F0_R, mode=Mode.SUBTRACT)
        with Locations((30, 90)):
            Circle(F0_R, mode=Mode.SUBTRACT)
        with Locations((0, 120)):
            Circle(F0_R, mode=Mode.SUBTRACT)
        with Locations((30, 120)):
            Circle(F0_R, mode=Mode.SUBTRACT)
        with Locations((60, 90)):
            Circle(F0_R, mode=Mode.SUBTRACT)
        with Locations((60, 120)):
            Circle(F0_R, mode=Mode.SUBTRACT)
        with Locations((0, 150)):
            Circle(F0_R, mode=Mode.SUBTRACT)
        with Locations((30, 150)):
            Circle(F0_R, mode=Mode.SUBTRACT)
        with Locations((60, 150)):
            Circle(F0_R, mode=Mode.SUBTRACT)
        with Locations((90, 90)):
            Circle(F0_R, mode=Mode.SUBTRACT)
        with Locations((120, 90)):
            Circle(F0_R, mode=Mode.SUBTRACT)
        with Locations((90, 120)):
            Circle(F0_R, mode=Mode.SUBTRACT)
        with Locations((120, 120)):
            Circle(F0_R, mode=Mode.SUBTRACT)
        with Locations((150, 90)):
            Circle(F0_R, mode=Mode.SUBTRACT)
        with Locations((150, 120)):
            Circle(F0_R, mode=Mode.SUBTRACT)
        with Locations((90, 150)):
            Circle(F0_R, mode=Mode.SUBTRACT)
        with Locations((120, 150)):
            Circle(F0_R, mode=Mode.SUBTRACT)
        with Locations((150, 150)):
            Circle(F0_R, mode=Mode.SUBTRACT)
    extrude(amount=F1_DEPTH)

    # F2 (on face) → F3 (join)
    with BuildSketch(Plane(origin=(0, 0, 0), x_dir=(1, 0, 0), z_dir=(0, 0, -1))):
        with Locations((-2.000525, -1.994968)):
            Rectangle(F2_W, F2_H)
    extrude(amount=-F3_DEPTH)


solid = f1.part
